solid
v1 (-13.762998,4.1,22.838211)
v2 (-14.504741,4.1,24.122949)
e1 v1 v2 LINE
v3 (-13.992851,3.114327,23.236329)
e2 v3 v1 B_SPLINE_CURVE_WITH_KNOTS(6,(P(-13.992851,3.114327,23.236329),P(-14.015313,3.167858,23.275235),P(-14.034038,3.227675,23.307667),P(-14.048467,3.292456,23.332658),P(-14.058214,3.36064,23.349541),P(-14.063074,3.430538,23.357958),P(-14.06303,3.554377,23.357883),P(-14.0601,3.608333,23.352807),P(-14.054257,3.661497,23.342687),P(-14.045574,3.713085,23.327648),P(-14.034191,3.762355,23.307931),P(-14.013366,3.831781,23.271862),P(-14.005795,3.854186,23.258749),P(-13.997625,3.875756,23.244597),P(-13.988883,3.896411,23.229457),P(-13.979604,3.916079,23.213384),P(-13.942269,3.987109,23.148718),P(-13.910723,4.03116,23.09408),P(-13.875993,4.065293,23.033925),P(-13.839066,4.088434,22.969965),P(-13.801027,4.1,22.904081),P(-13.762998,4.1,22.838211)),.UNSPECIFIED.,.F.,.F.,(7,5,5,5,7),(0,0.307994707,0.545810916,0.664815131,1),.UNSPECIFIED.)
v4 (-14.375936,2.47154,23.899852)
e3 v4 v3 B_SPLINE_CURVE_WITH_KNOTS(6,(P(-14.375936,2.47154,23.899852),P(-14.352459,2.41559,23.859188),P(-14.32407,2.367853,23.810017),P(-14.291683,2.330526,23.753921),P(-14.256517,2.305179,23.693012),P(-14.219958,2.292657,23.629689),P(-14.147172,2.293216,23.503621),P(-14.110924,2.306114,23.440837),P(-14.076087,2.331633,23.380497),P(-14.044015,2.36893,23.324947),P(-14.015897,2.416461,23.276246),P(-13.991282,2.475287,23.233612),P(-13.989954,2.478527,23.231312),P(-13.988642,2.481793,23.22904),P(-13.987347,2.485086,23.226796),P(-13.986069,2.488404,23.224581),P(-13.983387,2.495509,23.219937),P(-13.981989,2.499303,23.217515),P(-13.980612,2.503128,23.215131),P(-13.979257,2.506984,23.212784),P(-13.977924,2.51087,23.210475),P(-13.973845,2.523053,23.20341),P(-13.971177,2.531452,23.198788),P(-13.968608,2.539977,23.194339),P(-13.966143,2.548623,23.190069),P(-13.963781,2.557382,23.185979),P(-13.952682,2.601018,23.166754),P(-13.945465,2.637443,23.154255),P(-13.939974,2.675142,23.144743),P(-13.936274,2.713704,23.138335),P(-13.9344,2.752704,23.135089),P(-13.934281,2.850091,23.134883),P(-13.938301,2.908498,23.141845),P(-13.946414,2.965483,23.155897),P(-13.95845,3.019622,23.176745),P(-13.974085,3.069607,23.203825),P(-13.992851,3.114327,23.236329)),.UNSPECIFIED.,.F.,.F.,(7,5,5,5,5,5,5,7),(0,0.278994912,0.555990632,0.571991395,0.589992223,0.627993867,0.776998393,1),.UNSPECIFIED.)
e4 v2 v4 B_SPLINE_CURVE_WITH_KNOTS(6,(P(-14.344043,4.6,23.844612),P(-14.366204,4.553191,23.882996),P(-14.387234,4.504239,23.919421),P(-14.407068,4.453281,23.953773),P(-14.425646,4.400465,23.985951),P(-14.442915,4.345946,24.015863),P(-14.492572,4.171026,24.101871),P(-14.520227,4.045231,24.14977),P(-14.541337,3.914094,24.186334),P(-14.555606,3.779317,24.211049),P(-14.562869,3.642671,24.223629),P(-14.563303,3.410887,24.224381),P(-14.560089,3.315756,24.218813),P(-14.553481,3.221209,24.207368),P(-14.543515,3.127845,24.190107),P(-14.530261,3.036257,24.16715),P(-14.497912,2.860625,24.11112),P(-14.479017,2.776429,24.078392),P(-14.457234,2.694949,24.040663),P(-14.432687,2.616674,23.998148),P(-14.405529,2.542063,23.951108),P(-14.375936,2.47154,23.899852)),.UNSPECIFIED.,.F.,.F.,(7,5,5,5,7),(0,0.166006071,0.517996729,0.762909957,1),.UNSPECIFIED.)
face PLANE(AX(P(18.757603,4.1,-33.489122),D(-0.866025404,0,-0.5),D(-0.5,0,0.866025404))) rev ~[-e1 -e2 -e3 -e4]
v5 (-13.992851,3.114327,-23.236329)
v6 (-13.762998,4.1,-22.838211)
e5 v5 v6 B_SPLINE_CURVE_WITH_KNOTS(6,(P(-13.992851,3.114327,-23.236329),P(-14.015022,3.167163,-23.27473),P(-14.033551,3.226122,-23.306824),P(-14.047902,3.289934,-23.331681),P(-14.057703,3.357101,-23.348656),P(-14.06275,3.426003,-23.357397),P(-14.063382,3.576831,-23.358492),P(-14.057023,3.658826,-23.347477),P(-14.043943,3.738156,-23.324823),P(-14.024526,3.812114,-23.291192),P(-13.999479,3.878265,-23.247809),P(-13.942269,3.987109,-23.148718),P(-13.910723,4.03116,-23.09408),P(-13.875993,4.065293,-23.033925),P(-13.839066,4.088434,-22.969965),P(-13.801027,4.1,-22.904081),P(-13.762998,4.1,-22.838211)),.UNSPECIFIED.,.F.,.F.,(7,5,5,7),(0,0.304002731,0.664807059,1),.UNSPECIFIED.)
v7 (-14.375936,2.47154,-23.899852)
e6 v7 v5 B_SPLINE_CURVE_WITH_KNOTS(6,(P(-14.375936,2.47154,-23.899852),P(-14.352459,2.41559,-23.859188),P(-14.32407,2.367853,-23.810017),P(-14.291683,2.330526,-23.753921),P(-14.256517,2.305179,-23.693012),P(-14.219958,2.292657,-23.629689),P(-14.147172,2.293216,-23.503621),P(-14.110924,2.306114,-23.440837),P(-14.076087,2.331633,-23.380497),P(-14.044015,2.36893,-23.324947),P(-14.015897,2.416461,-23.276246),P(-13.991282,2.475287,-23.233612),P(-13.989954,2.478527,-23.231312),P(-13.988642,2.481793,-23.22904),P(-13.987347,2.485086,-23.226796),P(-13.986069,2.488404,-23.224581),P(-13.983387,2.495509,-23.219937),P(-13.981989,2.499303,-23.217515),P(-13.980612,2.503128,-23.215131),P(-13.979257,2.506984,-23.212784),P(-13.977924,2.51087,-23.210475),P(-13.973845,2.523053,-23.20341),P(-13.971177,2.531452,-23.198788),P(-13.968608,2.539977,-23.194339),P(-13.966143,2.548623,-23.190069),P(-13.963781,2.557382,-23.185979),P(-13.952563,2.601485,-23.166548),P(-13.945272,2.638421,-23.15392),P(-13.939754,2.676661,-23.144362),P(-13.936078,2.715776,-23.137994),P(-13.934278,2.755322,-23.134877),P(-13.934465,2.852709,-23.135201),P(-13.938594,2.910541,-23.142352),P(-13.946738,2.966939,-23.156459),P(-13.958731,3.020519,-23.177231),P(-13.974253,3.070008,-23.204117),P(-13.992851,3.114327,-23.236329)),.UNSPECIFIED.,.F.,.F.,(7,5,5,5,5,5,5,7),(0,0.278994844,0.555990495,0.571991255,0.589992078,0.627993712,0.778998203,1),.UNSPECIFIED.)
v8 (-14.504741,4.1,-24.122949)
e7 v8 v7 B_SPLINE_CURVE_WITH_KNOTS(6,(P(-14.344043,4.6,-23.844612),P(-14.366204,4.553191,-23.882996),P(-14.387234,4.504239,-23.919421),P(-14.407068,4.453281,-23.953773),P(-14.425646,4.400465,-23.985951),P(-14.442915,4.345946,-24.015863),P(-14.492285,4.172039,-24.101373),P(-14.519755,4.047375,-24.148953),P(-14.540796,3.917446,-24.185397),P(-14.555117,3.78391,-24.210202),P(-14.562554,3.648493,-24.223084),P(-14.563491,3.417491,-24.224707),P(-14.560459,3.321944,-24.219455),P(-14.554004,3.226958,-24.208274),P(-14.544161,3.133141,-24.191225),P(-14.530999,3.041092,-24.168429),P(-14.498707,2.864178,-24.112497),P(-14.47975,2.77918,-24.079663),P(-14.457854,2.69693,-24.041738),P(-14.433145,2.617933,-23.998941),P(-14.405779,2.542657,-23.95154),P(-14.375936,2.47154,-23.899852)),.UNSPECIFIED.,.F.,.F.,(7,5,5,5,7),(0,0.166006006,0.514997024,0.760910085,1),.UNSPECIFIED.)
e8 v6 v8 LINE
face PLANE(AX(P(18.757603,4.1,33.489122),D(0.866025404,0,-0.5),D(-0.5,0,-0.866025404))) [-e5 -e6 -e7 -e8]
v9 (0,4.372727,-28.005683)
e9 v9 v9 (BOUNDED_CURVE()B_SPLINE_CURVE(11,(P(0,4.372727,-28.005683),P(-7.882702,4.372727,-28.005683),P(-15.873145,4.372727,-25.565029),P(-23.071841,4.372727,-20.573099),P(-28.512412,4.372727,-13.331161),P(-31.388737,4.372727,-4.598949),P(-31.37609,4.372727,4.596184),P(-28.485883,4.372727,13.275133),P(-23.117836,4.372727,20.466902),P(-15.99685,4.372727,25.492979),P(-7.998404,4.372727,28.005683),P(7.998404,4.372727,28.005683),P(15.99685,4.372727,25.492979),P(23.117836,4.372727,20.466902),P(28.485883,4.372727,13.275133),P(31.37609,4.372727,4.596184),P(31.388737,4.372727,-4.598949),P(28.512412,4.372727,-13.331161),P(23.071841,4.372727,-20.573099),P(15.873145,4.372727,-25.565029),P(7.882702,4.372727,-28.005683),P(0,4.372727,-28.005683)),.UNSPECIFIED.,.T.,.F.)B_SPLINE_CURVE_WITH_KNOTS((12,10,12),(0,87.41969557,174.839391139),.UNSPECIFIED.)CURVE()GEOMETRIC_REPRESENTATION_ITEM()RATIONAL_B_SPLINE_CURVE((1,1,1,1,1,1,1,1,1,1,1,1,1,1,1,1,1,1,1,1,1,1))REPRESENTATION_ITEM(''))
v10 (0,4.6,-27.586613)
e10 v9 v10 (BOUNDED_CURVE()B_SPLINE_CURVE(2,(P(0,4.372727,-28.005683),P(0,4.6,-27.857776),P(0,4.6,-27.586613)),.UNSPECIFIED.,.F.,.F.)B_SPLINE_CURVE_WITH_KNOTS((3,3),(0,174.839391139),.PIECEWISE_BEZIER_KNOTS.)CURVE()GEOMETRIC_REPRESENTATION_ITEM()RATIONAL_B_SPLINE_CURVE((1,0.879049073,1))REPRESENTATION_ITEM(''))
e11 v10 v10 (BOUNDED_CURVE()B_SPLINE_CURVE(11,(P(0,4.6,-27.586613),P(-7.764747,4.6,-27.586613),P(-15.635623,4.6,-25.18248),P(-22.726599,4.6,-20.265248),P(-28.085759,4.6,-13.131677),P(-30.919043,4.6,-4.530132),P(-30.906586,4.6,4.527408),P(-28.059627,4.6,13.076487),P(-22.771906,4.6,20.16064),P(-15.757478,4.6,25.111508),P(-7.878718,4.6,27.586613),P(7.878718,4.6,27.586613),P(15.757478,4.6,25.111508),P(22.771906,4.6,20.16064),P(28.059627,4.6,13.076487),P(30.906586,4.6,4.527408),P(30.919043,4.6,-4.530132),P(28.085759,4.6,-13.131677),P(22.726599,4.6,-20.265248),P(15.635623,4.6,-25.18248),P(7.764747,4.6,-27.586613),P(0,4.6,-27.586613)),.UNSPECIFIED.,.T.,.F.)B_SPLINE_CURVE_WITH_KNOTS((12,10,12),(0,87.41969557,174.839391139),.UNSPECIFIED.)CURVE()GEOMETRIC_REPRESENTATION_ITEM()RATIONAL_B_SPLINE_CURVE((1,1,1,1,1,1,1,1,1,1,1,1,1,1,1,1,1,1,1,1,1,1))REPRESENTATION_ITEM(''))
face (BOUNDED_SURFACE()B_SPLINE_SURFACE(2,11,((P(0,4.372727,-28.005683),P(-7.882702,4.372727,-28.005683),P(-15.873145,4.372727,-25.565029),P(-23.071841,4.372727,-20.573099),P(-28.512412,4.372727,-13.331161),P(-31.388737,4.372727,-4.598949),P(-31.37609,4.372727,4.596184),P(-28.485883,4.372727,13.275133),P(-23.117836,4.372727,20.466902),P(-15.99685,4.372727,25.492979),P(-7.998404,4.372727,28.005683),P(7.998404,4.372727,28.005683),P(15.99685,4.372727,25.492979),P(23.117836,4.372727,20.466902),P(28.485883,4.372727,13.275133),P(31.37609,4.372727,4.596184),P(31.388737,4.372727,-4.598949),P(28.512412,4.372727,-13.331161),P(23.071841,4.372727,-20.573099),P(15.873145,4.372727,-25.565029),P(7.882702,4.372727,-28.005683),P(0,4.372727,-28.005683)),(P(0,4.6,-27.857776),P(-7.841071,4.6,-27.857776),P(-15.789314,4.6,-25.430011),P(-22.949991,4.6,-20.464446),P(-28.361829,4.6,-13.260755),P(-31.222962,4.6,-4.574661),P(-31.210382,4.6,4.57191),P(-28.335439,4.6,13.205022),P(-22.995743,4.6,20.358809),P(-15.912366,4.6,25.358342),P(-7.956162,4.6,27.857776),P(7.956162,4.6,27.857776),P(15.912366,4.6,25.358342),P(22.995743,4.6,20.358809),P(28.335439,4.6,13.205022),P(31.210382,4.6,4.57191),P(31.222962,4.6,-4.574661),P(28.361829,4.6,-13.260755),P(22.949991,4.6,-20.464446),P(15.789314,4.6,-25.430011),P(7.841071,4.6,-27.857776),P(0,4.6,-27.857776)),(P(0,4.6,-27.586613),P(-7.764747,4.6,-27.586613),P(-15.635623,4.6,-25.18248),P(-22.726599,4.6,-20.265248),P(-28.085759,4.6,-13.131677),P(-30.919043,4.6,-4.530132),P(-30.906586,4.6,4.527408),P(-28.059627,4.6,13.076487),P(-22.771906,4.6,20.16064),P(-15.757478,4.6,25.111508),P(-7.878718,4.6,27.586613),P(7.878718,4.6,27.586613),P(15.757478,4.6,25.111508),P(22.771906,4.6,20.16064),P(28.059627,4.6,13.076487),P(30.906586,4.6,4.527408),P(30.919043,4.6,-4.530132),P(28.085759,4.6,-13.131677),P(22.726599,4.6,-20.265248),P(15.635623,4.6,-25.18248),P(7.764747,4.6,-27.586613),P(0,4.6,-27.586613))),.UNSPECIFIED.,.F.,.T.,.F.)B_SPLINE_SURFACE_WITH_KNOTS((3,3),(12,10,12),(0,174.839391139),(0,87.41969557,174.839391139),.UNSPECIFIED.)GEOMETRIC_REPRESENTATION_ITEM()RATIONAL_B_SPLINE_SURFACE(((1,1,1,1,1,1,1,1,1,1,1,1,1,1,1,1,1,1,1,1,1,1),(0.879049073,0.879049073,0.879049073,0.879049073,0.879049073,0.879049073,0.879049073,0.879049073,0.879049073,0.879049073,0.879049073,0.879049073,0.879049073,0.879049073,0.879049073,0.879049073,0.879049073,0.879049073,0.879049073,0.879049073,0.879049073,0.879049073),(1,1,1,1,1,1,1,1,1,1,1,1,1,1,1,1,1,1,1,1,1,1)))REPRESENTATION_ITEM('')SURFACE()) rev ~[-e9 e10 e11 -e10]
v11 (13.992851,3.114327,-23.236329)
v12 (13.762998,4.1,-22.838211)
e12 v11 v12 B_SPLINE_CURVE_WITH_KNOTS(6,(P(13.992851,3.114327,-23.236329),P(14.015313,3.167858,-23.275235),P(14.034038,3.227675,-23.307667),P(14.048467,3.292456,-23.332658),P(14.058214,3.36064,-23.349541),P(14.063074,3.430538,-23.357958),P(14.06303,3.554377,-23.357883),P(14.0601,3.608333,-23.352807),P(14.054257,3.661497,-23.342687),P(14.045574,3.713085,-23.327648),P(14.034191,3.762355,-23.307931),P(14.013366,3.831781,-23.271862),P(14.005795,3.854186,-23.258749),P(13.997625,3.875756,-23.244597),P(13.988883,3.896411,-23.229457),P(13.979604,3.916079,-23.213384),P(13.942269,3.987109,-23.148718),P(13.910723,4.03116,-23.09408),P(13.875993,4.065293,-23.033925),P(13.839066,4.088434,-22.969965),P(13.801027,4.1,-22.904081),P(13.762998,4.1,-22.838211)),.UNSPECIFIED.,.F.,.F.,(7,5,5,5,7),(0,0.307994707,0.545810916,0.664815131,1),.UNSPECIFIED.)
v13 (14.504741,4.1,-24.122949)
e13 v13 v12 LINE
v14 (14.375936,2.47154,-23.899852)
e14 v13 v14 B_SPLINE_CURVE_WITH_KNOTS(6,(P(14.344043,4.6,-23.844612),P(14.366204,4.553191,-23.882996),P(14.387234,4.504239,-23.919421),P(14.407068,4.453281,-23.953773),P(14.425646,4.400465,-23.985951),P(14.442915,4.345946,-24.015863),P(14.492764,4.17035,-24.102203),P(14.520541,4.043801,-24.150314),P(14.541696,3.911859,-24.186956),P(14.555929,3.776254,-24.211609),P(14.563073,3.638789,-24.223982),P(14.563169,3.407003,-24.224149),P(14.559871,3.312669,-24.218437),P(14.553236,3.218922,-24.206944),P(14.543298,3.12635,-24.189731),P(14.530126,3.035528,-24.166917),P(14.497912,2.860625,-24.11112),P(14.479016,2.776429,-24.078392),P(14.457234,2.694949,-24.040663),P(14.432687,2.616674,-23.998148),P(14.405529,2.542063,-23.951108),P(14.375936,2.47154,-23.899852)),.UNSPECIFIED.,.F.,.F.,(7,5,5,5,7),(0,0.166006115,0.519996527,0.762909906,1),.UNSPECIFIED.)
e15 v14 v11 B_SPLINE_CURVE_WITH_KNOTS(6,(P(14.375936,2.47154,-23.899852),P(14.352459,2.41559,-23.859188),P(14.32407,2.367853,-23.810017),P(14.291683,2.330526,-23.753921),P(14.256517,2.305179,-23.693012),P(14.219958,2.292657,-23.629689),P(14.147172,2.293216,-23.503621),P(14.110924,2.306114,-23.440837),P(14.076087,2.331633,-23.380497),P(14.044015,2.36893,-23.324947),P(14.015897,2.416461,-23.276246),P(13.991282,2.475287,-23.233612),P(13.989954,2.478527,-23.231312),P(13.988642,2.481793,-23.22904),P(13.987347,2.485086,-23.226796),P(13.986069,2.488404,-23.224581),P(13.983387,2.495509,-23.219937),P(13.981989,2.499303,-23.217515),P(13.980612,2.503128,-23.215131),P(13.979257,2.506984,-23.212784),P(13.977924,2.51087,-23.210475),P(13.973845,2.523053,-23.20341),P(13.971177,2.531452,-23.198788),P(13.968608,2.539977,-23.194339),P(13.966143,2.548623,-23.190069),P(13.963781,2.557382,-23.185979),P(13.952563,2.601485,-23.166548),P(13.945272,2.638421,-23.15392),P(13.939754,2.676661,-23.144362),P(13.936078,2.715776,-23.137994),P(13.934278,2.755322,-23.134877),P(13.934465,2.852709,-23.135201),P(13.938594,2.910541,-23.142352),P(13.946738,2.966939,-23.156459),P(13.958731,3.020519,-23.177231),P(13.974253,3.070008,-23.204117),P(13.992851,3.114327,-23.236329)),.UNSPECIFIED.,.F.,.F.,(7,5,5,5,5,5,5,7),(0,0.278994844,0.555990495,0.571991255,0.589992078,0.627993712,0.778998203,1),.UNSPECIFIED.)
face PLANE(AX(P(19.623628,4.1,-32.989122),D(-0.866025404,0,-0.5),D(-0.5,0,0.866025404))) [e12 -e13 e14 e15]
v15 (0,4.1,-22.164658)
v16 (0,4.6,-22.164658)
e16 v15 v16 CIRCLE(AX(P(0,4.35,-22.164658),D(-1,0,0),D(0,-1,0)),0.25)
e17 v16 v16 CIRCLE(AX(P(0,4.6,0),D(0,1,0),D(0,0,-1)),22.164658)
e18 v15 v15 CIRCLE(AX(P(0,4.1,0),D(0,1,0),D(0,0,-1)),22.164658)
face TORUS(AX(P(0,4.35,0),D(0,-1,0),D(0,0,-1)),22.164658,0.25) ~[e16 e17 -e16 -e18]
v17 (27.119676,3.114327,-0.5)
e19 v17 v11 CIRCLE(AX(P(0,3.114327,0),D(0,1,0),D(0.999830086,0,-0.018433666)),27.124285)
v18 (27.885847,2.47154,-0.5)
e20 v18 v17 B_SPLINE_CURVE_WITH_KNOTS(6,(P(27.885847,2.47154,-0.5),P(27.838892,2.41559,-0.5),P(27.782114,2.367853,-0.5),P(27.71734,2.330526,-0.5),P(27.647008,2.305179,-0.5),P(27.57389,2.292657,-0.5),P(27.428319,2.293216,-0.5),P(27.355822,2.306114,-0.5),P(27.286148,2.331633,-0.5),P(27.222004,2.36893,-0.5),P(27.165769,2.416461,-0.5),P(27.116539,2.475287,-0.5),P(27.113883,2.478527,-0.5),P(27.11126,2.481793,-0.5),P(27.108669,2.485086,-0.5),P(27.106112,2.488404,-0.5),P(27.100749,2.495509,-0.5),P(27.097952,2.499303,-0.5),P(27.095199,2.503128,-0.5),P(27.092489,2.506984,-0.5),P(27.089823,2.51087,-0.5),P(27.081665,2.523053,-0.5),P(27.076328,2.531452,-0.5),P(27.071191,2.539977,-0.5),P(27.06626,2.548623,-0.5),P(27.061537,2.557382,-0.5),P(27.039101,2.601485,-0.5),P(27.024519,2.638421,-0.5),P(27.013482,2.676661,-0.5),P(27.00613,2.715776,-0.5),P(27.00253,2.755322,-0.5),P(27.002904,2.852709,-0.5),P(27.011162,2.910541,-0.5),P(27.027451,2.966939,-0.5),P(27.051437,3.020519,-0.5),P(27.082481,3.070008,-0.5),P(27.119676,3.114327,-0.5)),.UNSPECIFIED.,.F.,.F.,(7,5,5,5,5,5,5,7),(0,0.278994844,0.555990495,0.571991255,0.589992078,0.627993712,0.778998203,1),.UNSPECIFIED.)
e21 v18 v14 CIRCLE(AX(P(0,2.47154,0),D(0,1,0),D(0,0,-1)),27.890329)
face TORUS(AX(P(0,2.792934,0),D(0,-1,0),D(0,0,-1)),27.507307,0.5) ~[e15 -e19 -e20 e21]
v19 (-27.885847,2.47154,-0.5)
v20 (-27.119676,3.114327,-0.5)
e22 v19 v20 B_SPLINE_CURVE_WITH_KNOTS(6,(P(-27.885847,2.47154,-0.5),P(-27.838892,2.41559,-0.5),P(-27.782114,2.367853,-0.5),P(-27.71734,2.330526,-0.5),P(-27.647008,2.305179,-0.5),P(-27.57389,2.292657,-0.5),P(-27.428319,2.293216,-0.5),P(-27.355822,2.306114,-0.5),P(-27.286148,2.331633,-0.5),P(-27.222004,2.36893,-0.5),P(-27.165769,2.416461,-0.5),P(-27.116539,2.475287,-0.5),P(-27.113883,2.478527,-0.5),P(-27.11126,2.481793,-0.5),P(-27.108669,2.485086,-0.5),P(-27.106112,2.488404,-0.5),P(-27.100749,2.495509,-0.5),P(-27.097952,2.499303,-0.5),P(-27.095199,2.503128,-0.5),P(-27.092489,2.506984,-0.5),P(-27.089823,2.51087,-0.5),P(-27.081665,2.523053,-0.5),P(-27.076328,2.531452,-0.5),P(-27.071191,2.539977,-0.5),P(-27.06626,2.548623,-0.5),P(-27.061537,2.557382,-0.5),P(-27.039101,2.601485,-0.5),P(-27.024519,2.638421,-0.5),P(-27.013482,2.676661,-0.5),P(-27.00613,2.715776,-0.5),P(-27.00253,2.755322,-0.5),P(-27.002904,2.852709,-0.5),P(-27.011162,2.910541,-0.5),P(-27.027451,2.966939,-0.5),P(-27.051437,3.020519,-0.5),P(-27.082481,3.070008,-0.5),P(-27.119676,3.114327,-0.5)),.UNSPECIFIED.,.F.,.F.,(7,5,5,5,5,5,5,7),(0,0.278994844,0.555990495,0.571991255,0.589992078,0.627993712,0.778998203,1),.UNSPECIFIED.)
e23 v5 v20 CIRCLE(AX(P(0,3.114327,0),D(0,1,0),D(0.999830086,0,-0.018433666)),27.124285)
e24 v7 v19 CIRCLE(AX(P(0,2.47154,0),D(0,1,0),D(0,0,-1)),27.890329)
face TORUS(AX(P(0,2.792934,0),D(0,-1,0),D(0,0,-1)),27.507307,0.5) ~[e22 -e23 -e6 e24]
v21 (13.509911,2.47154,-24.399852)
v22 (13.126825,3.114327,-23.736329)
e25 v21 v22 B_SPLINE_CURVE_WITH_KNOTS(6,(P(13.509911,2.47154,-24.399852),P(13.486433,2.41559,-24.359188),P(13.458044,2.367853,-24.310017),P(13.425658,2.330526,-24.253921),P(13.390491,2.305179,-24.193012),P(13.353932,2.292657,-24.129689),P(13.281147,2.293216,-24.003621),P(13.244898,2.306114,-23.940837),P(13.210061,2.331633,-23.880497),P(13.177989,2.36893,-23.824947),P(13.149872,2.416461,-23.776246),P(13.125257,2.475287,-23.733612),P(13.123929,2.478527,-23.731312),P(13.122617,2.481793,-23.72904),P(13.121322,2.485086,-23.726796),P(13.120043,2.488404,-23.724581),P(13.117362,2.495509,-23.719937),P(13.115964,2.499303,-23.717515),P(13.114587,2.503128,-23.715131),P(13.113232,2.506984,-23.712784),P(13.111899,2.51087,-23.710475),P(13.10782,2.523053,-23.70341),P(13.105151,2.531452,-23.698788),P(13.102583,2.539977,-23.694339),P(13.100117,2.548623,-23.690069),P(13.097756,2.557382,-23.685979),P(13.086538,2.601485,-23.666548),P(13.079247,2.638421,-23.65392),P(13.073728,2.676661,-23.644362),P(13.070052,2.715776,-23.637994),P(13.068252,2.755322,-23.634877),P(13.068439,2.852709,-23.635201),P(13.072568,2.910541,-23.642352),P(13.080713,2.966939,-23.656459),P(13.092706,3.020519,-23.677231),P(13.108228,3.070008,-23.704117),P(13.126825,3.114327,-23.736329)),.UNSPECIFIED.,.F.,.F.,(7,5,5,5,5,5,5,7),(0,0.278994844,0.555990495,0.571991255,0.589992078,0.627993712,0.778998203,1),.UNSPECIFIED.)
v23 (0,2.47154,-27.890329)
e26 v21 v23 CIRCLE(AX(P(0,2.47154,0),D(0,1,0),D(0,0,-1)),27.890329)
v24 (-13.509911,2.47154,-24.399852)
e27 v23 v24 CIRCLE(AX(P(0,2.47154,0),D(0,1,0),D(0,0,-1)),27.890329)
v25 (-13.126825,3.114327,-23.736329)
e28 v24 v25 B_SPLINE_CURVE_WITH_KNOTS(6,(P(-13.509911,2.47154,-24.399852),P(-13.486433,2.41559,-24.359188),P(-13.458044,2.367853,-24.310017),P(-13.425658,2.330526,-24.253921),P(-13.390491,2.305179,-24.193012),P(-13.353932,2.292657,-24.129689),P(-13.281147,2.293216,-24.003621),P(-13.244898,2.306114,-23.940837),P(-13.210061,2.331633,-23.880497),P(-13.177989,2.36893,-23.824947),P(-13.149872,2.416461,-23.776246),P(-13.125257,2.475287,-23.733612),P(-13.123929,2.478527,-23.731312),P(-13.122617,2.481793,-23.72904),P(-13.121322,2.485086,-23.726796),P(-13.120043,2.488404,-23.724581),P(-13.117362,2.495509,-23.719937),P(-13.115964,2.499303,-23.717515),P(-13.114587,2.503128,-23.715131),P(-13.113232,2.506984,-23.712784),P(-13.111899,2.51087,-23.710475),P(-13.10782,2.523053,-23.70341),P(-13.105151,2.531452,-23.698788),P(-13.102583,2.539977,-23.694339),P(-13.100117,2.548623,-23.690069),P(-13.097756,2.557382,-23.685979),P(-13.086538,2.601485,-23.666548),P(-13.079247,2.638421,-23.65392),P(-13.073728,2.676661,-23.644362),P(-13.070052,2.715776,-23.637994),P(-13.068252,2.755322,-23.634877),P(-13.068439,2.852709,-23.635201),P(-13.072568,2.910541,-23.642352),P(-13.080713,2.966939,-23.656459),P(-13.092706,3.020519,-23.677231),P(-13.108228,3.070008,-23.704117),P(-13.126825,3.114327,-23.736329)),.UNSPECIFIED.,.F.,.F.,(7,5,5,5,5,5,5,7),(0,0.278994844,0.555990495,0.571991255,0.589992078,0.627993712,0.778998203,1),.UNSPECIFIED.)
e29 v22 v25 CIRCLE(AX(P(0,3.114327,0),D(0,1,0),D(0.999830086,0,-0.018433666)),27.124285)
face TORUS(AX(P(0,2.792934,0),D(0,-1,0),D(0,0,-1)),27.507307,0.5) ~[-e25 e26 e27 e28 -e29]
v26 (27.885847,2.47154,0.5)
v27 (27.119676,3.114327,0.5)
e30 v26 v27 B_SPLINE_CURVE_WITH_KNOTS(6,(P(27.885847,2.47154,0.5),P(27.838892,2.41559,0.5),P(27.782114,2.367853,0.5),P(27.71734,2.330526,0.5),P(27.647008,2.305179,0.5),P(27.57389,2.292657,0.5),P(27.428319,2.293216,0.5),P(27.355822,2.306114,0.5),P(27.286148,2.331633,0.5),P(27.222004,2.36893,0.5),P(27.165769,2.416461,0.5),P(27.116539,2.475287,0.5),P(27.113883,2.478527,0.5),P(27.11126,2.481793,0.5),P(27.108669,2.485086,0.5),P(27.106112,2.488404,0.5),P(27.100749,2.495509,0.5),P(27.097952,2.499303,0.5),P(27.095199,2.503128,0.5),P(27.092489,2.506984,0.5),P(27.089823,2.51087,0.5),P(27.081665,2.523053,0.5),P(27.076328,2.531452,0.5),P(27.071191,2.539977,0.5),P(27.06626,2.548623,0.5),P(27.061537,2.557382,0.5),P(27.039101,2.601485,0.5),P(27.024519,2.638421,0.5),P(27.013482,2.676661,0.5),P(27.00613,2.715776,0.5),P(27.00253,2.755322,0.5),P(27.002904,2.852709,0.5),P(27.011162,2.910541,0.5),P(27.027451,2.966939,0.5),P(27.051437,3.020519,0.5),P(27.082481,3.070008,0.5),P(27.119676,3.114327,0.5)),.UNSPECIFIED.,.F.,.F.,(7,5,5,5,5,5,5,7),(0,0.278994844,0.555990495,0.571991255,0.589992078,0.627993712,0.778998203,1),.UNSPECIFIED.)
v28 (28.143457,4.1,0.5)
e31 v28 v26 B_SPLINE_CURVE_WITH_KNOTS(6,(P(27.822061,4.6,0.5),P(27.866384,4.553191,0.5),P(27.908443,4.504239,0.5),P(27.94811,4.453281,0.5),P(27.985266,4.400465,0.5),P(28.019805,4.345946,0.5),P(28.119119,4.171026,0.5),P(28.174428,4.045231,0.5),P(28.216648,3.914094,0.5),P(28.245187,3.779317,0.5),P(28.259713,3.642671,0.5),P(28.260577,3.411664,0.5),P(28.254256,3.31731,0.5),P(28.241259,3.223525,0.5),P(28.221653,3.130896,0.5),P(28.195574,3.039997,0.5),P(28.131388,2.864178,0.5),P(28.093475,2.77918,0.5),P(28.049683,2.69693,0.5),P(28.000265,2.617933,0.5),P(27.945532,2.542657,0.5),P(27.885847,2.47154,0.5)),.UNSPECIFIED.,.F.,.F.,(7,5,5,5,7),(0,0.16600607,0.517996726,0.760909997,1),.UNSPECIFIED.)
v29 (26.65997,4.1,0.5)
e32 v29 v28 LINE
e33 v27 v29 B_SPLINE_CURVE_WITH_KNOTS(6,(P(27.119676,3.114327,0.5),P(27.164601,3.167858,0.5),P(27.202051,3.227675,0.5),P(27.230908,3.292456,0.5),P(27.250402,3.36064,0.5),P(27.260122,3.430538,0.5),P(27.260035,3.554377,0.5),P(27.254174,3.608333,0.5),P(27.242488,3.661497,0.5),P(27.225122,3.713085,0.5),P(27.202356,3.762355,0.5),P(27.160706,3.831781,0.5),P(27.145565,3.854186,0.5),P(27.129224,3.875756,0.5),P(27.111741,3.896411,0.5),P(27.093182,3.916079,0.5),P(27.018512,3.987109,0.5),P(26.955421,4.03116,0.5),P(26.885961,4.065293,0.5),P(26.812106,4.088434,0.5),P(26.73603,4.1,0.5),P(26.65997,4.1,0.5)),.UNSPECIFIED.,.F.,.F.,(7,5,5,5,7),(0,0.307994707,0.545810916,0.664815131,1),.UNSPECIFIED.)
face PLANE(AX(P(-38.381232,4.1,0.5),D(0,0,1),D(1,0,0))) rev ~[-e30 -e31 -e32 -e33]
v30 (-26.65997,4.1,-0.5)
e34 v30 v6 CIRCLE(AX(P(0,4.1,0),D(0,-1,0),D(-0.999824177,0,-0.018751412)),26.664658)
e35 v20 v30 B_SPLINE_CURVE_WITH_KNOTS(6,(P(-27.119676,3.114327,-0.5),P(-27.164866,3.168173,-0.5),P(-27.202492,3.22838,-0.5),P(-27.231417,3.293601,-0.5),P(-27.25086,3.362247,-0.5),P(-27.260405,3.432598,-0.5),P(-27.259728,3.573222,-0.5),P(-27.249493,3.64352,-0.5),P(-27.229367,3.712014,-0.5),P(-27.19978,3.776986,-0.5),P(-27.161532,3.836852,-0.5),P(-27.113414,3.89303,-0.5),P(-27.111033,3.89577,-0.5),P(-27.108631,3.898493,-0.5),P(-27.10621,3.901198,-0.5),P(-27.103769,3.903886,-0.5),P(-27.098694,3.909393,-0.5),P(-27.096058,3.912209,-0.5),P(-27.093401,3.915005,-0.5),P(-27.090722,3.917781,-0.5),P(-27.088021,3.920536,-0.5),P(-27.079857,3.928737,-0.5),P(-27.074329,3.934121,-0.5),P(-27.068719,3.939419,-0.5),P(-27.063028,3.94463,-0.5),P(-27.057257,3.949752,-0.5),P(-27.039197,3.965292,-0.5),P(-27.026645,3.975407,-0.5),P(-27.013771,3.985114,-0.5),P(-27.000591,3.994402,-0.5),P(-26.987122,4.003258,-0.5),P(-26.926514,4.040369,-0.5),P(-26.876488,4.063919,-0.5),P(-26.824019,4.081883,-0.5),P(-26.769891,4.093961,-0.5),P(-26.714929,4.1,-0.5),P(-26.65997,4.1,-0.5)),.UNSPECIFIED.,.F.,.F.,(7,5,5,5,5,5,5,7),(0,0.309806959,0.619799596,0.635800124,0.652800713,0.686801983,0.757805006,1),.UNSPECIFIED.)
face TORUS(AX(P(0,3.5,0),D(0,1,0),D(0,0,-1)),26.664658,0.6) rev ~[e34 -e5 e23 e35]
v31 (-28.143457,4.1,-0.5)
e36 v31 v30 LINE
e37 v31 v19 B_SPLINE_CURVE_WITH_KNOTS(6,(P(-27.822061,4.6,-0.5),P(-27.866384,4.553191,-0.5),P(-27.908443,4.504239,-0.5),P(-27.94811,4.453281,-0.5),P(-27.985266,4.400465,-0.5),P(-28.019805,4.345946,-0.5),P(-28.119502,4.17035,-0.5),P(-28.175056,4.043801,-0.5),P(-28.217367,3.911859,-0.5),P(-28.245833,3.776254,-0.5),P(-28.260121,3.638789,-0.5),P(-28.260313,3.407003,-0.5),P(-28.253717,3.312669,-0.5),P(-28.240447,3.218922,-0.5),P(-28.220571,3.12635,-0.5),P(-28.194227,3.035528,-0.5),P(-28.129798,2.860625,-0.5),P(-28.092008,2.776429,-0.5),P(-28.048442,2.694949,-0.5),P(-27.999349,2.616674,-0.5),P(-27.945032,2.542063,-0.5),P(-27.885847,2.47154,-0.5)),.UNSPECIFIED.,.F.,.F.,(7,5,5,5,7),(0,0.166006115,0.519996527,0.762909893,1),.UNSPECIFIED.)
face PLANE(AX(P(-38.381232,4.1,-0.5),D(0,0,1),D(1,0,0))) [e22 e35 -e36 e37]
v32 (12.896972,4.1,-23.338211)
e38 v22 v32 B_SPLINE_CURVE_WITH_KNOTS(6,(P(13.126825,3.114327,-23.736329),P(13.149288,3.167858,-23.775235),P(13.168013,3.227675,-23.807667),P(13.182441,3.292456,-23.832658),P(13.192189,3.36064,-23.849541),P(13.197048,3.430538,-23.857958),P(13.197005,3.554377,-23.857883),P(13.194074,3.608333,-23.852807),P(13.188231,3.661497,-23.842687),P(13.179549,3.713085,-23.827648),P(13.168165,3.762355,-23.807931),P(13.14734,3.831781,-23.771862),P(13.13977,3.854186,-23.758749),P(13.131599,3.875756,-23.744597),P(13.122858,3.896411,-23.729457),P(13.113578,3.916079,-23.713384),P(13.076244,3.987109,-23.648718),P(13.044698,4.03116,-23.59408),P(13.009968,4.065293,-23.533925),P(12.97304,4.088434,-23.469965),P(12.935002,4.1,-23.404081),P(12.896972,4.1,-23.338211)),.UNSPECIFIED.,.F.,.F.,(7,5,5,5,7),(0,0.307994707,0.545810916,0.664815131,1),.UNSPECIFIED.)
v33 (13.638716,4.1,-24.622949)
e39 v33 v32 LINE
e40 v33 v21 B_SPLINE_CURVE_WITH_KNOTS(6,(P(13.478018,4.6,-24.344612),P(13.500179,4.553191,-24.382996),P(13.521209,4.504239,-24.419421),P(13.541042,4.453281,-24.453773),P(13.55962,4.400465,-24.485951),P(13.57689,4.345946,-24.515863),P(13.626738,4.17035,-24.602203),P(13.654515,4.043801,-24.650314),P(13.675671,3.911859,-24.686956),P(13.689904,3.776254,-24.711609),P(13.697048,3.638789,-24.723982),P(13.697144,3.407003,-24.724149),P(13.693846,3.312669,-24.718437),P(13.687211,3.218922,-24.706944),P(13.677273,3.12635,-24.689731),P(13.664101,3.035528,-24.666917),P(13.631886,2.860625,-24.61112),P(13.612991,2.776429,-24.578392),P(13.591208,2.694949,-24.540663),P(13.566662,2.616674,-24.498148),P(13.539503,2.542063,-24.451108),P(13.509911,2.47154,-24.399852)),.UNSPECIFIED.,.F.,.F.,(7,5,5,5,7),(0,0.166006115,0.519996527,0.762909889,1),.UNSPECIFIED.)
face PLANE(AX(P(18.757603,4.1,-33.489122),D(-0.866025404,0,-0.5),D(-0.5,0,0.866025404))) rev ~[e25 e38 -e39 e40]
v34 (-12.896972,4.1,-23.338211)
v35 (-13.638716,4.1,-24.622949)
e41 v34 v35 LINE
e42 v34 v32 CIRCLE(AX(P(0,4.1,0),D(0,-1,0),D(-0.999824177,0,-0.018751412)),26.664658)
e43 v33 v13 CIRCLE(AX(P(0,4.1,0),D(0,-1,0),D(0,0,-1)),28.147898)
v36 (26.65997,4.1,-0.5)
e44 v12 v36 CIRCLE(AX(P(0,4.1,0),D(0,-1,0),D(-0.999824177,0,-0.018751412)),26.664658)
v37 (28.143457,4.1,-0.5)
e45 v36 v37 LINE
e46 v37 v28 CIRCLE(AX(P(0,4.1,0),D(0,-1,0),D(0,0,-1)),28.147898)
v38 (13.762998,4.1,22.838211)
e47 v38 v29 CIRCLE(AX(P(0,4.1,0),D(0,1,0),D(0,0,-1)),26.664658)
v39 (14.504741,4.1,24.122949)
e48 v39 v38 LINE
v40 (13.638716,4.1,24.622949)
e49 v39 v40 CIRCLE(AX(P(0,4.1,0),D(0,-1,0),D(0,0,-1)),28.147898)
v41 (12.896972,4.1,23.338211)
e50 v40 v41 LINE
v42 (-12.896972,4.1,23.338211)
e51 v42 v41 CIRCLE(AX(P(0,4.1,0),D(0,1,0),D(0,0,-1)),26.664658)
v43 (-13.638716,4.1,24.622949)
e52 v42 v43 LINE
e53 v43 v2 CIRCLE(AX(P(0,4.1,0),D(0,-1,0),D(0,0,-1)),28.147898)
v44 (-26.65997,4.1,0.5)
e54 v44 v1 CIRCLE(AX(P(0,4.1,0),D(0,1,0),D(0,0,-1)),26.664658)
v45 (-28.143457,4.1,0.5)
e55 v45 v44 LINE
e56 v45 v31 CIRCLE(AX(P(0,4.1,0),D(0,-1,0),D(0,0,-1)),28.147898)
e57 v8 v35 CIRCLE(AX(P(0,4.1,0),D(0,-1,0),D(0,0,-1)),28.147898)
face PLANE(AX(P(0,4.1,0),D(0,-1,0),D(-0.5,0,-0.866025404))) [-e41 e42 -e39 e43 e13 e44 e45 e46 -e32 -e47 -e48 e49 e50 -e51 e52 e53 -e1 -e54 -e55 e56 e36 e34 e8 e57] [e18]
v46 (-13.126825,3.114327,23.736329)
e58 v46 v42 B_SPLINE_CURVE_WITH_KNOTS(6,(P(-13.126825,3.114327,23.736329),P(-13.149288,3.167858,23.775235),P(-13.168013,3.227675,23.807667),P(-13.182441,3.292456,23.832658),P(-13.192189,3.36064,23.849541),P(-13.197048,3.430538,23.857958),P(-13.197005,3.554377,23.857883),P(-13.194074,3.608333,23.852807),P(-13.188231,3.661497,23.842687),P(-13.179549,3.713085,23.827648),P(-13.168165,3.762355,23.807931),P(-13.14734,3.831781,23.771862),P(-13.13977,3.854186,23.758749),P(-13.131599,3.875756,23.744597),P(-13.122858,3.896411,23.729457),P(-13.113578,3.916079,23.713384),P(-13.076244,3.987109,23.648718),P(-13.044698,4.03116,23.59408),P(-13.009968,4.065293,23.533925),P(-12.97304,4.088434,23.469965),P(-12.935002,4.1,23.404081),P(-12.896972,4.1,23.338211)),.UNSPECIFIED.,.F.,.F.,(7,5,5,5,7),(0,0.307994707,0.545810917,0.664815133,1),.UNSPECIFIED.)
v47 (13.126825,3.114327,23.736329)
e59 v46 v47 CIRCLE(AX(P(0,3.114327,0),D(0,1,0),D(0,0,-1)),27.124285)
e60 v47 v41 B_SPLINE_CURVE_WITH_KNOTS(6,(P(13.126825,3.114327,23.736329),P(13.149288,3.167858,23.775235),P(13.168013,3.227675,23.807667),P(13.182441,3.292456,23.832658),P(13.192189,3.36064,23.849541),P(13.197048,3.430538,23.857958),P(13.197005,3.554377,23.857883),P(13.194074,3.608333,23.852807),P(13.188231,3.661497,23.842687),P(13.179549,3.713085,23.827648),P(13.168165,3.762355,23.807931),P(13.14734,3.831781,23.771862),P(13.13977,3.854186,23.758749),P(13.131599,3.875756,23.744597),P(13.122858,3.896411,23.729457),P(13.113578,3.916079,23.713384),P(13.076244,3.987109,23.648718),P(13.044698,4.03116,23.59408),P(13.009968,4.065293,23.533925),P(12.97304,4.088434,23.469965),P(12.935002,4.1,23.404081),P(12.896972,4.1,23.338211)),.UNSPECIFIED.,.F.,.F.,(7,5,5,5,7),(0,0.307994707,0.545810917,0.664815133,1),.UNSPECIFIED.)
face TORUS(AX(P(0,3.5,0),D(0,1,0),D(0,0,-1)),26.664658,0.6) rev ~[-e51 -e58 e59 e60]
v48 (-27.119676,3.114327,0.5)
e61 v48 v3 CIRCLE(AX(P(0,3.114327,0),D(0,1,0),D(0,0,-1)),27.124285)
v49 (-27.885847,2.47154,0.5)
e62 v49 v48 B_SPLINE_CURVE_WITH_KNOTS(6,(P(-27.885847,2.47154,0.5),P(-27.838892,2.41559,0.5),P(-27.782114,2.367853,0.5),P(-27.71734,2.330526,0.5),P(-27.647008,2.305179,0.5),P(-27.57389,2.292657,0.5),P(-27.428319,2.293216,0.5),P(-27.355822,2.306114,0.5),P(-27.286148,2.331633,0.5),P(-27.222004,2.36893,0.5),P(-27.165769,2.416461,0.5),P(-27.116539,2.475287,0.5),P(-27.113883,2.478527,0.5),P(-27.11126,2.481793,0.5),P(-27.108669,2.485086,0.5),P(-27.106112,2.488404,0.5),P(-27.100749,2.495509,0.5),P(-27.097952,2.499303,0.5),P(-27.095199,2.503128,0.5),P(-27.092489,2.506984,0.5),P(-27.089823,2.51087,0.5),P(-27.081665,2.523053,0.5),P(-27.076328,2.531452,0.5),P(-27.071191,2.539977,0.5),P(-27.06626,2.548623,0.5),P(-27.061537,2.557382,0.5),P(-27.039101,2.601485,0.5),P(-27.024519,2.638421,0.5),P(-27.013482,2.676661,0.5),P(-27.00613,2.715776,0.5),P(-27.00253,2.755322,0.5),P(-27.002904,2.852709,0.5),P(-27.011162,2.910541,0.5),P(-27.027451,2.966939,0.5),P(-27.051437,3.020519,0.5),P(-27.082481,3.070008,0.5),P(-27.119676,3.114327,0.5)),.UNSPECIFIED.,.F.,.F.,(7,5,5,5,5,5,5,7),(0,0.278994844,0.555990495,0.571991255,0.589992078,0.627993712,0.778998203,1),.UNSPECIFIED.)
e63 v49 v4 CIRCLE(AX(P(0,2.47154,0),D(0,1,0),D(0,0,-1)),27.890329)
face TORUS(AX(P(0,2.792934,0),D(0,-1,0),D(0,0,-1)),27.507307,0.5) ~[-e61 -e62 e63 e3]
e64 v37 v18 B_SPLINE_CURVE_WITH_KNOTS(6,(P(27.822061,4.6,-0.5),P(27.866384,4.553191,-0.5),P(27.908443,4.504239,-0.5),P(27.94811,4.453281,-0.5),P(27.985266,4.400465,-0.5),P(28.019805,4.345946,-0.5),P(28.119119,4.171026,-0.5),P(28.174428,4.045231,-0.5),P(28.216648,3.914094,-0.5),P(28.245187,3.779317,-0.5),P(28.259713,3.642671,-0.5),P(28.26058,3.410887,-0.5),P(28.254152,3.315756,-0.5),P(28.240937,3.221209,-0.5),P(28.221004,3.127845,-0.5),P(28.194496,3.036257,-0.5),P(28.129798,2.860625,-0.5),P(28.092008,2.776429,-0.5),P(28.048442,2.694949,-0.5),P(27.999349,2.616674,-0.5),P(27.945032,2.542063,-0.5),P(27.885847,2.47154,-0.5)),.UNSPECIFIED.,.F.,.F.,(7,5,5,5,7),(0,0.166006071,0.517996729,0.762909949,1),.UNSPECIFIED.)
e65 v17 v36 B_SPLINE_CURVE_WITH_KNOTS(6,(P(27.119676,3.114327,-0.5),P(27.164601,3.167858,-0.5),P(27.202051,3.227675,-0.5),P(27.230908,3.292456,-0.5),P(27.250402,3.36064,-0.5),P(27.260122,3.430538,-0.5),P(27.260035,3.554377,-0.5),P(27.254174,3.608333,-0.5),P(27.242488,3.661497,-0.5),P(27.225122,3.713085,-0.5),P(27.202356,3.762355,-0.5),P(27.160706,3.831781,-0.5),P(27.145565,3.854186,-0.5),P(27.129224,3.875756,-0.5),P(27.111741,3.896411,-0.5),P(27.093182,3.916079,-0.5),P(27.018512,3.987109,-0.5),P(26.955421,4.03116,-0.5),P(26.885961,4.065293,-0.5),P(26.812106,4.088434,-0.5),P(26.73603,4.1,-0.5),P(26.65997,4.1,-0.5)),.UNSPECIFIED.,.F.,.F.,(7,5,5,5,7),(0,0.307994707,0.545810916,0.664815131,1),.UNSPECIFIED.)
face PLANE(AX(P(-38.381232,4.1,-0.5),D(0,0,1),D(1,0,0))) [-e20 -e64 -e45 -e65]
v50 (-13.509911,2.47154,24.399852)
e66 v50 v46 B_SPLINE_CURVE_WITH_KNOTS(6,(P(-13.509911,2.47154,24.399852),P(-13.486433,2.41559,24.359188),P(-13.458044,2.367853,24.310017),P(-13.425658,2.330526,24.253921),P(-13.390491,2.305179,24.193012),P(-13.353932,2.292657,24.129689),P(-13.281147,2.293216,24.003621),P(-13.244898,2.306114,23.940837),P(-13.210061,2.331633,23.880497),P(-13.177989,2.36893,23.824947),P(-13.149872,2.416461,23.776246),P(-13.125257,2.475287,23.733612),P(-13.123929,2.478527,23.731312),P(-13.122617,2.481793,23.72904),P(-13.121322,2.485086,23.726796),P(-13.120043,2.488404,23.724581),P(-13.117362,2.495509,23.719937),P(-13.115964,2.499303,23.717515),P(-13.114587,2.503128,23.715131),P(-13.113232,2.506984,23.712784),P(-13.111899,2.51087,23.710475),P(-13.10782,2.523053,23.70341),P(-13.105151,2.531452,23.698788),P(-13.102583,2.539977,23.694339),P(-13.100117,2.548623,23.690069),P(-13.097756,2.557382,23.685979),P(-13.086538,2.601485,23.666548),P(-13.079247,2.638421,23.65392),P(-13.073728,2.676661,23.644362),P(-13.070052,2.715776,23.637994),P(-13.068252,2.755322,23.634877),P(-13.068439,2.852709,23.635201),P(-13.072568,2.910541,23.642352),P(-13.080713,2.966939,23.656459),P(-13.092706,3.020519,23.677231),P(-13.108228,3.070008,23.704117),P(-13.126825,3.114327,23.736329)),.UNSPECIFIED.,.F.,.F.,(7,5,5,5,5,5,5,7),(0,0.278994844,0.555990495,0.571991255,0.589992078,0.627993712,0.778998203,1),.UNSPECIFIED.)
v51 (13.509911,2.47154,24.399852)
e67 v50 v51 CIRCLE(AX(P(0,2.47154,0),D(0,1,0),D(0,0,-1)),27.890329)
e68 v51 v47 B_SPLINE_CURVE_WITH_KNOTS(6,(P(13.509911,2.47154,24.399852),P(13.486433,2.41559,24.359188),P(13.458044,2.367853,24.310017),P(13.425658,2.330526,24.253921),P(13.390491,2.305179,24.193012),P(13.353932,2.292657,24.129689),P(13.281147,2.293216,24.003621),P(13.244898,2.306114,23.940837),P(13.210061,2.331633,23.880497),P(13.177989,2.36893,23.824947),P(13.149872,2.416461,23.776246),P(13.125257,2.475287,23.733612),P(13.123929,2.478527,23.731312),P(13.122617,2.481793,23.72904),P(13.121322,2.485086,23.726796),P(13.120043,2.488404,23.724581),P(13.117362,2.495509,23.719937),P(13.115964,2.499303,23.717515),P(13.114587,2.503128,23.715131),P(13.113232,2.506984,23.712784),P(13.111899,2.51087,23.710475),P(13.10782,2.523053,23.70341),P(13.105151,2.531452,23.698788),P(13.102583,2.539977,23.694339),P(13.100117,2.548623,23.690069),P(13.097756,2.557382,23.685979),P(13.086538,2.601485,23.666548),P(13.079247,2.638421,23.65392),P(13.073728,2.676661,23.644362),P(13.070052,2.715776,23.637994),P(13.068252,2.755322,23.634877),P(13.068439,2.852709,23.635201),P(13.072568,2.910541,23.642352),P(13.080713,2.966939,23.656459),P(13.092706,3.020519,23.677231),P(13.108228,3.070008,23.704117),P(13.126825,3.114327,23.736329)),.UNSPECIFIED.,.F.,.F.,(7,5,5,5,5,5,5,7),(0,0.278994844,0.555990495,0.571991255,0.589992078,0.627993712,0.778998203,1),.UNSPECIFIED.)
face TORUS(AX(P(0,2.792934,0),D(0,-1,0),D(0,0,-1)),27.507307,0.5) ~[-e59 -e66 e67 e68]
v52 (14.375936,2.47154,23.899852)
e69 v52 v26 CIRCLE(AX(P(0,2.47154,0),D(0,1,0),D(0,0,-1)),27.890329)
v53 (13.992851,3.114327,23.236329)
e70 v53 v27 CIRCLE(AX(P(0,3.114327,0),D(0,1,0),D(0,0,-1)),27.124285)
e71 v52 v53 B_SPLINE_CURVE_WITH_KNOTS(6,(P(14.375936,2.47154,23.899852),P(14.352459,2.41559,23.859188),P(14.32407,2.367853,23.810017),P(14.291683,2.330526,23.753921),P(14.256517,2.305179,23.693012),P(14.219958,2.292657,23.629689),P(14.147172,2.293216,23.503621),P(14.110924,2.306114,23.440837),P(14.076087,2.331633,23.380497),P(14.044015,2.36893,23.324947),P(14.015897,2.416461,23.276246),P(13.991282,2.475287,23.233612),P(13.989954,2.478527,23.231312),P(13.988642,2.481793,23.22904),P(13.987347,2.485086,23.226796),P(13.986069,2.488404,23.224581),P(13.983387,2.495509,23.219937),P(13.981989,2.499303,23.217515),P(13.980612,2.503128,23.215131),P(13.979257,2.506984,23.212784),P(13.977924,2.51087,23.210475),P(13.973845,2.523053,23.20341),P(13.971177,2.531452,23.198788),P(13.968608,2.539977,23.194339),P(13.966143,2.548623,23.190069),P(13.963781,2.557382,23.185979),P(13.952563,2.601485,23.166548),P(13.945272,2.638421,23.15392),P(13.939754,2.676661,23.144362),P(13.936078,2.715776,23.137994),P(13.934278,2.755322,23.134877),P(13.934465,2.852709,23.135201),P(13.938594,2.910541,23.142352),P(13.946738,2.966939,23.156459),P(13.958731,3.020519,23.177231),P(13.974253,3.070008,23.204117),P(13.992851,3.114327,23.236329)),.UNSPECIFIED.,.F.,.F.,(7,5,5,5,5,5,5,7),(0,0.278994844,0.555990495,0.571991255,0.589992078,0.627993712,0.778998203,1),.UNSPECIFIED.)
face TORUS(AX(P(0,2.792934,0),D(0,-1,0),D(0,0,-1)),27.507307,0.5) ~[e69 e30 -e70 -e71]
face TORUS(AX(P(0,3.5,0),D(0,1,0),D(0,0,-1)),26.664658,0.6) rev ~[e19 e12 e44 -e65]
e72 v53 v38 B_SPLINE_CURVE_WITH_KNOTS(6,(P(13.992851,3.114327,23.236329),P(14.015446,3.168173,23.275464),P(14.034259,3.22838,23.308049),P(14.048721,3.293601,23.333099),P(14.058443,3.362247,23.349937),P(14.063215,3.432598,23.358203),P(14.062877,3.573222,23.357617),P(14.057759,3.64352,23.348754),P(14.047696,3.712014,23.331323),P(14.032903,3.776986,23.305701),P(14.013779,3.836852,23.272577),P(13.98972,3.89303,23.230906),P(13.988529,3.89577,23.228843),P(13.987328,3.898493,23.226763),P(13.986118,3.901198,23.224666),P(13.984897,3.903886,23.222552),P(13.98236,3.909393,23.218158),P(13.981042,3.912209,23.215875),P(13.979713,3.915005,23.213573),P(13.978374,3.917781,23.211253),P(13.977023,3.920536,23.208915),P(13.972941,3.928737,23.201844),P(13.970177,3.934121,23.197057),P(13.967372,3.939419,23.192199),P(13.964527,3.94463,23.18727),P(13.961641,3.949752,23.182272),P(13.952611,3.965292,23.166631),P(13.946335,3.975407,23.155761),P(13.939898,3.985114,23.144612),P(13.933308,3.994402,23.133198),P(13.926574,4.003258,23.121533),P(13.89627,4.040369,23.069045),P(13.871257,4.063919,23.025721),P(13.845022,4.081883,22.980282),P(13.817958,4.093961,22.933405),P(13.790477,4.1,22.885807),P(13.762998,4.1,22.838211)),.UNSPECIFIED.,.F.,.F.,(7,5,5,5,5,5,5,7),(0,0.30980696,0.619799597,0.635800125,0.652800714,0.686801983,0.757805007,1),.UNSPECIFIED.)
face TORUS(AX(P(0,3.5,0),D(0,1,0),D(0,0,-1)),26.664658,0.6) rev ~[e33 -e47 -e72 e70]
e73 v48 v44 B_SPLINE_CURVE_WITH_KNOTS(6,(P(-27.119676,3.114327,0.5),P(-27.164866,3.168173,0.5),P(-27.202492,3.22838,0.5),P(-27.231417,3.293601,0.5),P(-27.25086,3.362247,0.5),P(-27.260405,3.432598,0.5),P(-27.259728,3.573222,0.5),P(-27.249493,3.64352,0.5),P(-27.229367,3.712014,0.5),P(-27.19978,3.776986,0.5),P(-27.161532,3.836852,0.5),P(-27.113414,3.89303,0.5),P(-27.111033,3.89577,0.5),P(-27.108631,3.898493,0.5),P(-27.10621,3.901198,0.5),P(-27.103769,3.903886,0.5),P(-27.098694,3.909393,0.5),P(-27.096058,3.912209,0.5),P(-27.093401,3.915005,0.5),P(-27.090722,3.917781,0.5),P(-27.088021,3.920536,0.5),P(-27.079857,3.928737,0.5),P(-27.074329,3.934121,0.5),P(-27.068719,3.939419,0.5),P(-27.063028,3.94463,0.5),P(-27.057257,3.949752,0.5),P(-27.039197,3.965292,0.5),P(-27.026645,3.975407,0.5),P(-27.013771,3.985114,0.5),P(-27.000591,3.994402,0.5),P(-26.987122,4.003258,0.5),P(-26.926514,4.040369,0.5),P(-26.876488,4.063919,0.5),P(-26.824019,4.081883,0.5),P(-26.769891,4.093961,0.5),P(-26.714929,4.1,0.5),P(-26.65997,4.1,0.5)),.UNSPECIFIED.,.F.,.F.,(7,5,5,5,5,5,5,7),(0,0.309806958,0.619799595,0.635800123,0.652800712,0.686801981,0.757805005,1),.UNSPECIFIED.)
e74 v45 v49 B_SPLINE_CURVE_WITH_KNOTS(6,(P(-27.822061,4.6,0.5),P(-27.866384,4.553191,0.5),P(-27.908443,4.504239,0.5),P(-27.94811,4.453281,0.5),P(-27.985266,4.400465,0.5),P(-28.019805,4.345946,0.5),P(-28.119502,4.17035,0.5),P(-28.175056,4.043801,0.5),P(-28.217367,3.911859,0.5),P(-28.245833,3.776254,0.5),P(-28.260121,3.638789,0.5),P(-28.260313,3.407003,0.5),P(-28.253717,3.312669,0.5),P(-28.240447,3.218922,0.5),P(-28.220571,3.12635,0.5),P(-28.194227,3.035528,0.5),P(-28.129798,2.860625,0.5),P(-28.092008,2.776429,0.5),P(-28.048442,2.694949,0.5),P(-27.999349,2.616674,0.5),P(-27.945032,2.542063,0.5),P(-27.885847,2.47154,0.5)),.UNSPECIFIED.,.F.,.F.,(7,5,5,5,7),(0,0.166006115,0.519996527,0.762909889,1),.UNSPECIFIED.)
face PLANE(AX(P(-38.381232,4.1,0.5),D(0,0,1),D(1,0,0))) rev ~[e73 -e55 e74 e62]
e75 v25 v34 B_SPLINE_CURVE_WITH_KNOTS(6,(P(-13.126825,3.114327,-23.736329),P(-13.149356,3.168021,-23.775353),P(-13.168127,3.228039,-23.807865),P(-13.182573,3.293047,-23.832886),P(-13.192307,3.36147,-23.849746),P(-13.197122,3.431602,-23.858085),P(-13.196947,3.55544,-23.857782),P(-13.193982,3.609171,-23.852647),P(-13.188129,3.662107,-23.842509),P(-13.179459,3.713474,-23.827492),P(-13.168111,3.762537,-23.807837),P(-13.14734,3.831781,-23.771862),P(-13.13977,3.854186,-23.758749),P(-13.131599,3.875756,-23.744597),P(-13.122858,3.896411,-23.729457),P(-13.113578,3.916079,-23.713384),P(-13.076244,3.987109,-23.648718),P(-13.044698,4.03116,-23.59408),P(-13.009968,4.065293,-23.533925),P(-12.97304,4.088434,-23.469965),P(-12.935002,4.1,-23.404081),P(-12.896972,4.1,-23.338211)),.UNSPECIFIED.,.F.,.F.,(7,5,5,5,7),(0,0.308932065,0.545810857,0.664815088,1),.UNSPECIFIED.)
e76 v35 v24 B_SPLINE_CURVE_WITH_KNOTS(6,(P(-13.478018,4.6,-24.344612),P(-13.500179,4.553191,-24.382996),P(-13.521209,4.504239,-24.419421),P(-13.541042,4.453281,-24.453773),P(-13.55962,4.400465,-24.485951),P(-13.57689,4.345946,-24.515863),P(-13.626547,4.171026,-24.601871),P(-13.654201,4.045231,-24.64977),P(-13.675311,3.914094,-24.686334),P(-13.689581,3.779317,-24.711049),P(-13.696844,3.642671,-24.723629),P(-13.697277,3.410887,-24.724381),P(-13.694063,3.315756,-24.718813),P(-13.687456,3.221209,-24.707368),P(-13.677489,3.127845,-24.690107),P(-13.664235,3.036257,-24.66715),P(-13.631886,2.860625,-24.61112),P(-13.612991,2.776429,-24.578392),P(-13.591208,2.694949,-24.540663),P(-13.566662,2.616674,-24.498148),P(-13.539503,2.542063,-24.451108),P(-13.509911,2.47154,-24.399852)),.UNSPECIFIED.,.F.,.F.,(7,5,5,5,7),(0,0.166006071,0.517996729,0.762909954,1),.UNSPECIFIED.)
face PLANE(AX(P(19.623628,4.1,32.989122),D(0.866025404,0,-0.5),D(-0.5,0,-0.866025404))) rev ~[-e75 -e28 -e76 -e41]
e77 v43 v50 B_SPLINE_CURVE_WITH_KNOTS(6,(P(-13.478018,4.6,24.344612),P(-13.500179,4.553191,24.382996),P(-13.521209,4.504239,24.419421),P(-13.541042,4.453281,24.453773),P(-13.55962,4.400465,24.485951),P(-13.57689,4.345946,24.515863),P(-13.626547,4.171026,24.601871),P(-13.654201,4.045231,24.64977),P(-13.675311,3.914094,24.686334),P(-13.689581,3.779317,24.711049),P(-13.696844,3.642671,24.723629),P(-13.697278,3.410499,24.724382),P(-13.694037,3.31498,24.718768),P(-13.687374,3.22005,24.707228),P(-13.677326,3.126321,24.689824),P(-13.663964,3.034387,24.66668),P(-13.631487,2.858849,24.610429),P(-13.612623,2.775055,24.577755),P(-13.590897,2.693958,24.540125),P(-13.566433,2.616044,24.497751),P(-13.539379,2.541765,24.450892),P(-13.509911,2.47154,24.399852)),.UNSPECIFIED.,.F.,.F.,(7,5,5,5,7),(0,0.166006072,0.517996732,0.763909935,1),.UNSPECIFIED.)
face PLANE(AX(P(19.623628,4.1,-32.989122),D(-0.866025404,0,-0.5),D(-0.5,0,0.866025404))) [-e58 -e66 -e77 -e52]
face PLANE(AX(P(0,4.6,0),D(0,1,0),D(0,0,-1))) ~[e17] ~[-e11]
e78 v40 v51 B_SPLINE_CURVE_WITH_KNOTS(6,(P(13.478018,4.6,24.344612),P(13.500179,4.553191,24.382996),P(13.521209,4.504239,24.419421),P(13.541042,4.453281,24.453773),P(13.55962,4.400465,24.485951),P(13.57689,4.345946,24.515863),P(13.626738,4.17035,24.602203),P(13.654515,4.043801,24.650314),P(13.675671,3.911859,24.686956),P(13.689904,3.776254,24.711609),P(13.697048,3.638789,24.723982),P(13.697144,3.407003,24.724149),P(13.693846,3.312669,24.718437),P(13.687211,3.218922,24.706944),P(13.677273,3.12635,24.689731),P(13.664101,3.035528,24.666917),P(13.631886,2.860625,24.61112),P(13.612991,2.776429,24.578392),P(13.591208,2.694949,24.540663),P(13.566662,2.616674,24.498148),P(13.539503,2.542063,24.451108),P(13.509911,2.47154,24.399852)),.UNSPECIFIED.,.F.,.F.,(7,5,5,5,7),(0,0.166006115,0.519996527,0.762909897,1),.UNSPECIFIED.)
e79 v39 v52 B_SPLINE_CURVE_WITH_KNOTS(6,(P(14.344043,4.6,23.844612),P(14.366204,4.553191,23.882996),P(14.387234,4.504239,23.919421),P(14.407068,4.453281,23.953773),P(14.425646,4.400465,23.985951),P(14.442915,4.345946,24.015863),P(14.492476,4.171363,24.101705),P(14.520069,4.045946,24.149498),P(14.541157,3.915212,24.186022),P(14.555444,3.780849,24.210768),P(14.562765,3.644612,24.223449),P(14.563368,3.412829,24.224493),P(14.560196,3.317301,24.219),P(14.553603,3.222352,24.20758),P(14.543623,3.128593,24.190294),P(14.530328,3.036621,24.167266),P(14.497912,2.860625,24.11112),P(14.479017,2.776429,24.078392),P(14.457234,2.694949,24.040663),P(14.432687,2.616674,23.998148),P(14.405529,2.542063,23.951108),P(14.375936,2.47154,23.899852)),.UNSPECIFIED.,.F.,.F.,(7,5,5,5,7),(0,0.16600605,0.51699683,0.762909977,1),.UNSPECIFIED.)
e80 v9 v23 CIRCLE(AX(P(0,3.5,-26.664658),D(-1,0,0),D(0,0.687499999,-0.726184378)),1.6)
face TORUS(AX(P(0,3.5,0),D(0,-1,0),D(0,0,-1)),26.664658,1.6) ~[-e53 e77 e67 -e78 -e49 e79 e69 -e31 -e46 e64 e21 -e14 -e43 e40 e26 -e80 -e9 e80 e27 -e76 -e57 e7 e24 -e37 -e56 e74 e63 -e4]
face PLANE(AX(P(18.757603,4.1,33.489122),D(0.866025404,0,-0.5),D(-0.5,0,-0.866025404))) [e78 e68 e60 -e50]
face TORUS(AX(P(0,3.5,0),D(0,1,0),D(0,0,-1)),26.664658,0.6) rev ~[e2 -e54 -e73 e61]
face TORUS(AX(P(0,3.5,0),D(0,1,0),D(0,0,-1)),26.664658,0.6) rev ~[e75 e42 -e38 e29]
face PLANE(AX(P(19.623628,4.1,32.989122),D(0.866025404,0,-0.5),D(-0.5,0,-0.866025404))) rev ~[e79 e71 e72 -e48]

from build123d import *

# Parameters (mm, degrees)
SKETCH2_W          = 76.762463064
SKETCH2_H          = 1
CUT_EXTRUDE1_DEPTH = 11.684
CIRPATTERN1_COUNT  = 3
FILLET1_R          = 0.5


with BuildPart() as part:
    # Sketch1 → Revolve1 (revolve)
    with BuildSketch(Plane.XY, mode=Mode.PRIVATE) as revolve1_sk:
        with BuildLine():
            Line((-26.664658343, 4.6), (-27.826553347, 4.6))
            ThreePointArc((-27.826553347, 4.6), (-28.263940577, 3.547920085), (-27.890329452, 2.471539825))
            ThreePointArc((-27.890329452, 2.471539825), (-27.185913426, 2.409911408), (-27.124285009, 3.114327434))
            ThreePointArc((-27.124285009, 3.114327434), (-27.208443015, 3.753570957), (-26.664658343, 4.1))
            Line((-26.664658343, 4.1), (-22.164658343, 4.1))
            ThreePointArc((-22.164658343, 4.1), (-21.914658343, 4.35), (-22.164658343, 4.6))
            Line((-22.164658343, 4.6), (-26.664658343, 4.6))
        make_face()
    revolve(revolve1_sk.sketch.rotate(Axis((0, 0, 0), (0, 1, 0)), 270), axis=Axis((0, 0, 0), (0, 1, 0)))

    # Sketch2 → Cut-Extrude1 (cut)
    with BuildSketch(Plane.XZ.offset(-4.1)):
        Rectangle(SKETCH2_W, SKETCH2_H)
    cut_extrude1 = extrude(amount=CUT_EXTRUDE1_DEPTH, mode=Mode.SUBTRACT)

    # CirPattern1: Cut-Extrude1 ×3 about axis
    cirpattern1_axis = Axis((0, 0, 0), (0, 1, 0))
    for i in range(1, CIRPATTERN1_COUNT):
        add(cut_extrude1.rotate(cirpattern1_axis, i * 360 / CIRPATTERN1_COUNT), mode=Mode.SUBTRACT)

    # Fillet1
    fillet1_edges = [part.edges().sort_by_distance(p)[0] for p in [
        (0, 4.6, 27.826553347),
    ]]
    fillet(fillet1_edges, radius=FILLET1_R)


solid = part.part
